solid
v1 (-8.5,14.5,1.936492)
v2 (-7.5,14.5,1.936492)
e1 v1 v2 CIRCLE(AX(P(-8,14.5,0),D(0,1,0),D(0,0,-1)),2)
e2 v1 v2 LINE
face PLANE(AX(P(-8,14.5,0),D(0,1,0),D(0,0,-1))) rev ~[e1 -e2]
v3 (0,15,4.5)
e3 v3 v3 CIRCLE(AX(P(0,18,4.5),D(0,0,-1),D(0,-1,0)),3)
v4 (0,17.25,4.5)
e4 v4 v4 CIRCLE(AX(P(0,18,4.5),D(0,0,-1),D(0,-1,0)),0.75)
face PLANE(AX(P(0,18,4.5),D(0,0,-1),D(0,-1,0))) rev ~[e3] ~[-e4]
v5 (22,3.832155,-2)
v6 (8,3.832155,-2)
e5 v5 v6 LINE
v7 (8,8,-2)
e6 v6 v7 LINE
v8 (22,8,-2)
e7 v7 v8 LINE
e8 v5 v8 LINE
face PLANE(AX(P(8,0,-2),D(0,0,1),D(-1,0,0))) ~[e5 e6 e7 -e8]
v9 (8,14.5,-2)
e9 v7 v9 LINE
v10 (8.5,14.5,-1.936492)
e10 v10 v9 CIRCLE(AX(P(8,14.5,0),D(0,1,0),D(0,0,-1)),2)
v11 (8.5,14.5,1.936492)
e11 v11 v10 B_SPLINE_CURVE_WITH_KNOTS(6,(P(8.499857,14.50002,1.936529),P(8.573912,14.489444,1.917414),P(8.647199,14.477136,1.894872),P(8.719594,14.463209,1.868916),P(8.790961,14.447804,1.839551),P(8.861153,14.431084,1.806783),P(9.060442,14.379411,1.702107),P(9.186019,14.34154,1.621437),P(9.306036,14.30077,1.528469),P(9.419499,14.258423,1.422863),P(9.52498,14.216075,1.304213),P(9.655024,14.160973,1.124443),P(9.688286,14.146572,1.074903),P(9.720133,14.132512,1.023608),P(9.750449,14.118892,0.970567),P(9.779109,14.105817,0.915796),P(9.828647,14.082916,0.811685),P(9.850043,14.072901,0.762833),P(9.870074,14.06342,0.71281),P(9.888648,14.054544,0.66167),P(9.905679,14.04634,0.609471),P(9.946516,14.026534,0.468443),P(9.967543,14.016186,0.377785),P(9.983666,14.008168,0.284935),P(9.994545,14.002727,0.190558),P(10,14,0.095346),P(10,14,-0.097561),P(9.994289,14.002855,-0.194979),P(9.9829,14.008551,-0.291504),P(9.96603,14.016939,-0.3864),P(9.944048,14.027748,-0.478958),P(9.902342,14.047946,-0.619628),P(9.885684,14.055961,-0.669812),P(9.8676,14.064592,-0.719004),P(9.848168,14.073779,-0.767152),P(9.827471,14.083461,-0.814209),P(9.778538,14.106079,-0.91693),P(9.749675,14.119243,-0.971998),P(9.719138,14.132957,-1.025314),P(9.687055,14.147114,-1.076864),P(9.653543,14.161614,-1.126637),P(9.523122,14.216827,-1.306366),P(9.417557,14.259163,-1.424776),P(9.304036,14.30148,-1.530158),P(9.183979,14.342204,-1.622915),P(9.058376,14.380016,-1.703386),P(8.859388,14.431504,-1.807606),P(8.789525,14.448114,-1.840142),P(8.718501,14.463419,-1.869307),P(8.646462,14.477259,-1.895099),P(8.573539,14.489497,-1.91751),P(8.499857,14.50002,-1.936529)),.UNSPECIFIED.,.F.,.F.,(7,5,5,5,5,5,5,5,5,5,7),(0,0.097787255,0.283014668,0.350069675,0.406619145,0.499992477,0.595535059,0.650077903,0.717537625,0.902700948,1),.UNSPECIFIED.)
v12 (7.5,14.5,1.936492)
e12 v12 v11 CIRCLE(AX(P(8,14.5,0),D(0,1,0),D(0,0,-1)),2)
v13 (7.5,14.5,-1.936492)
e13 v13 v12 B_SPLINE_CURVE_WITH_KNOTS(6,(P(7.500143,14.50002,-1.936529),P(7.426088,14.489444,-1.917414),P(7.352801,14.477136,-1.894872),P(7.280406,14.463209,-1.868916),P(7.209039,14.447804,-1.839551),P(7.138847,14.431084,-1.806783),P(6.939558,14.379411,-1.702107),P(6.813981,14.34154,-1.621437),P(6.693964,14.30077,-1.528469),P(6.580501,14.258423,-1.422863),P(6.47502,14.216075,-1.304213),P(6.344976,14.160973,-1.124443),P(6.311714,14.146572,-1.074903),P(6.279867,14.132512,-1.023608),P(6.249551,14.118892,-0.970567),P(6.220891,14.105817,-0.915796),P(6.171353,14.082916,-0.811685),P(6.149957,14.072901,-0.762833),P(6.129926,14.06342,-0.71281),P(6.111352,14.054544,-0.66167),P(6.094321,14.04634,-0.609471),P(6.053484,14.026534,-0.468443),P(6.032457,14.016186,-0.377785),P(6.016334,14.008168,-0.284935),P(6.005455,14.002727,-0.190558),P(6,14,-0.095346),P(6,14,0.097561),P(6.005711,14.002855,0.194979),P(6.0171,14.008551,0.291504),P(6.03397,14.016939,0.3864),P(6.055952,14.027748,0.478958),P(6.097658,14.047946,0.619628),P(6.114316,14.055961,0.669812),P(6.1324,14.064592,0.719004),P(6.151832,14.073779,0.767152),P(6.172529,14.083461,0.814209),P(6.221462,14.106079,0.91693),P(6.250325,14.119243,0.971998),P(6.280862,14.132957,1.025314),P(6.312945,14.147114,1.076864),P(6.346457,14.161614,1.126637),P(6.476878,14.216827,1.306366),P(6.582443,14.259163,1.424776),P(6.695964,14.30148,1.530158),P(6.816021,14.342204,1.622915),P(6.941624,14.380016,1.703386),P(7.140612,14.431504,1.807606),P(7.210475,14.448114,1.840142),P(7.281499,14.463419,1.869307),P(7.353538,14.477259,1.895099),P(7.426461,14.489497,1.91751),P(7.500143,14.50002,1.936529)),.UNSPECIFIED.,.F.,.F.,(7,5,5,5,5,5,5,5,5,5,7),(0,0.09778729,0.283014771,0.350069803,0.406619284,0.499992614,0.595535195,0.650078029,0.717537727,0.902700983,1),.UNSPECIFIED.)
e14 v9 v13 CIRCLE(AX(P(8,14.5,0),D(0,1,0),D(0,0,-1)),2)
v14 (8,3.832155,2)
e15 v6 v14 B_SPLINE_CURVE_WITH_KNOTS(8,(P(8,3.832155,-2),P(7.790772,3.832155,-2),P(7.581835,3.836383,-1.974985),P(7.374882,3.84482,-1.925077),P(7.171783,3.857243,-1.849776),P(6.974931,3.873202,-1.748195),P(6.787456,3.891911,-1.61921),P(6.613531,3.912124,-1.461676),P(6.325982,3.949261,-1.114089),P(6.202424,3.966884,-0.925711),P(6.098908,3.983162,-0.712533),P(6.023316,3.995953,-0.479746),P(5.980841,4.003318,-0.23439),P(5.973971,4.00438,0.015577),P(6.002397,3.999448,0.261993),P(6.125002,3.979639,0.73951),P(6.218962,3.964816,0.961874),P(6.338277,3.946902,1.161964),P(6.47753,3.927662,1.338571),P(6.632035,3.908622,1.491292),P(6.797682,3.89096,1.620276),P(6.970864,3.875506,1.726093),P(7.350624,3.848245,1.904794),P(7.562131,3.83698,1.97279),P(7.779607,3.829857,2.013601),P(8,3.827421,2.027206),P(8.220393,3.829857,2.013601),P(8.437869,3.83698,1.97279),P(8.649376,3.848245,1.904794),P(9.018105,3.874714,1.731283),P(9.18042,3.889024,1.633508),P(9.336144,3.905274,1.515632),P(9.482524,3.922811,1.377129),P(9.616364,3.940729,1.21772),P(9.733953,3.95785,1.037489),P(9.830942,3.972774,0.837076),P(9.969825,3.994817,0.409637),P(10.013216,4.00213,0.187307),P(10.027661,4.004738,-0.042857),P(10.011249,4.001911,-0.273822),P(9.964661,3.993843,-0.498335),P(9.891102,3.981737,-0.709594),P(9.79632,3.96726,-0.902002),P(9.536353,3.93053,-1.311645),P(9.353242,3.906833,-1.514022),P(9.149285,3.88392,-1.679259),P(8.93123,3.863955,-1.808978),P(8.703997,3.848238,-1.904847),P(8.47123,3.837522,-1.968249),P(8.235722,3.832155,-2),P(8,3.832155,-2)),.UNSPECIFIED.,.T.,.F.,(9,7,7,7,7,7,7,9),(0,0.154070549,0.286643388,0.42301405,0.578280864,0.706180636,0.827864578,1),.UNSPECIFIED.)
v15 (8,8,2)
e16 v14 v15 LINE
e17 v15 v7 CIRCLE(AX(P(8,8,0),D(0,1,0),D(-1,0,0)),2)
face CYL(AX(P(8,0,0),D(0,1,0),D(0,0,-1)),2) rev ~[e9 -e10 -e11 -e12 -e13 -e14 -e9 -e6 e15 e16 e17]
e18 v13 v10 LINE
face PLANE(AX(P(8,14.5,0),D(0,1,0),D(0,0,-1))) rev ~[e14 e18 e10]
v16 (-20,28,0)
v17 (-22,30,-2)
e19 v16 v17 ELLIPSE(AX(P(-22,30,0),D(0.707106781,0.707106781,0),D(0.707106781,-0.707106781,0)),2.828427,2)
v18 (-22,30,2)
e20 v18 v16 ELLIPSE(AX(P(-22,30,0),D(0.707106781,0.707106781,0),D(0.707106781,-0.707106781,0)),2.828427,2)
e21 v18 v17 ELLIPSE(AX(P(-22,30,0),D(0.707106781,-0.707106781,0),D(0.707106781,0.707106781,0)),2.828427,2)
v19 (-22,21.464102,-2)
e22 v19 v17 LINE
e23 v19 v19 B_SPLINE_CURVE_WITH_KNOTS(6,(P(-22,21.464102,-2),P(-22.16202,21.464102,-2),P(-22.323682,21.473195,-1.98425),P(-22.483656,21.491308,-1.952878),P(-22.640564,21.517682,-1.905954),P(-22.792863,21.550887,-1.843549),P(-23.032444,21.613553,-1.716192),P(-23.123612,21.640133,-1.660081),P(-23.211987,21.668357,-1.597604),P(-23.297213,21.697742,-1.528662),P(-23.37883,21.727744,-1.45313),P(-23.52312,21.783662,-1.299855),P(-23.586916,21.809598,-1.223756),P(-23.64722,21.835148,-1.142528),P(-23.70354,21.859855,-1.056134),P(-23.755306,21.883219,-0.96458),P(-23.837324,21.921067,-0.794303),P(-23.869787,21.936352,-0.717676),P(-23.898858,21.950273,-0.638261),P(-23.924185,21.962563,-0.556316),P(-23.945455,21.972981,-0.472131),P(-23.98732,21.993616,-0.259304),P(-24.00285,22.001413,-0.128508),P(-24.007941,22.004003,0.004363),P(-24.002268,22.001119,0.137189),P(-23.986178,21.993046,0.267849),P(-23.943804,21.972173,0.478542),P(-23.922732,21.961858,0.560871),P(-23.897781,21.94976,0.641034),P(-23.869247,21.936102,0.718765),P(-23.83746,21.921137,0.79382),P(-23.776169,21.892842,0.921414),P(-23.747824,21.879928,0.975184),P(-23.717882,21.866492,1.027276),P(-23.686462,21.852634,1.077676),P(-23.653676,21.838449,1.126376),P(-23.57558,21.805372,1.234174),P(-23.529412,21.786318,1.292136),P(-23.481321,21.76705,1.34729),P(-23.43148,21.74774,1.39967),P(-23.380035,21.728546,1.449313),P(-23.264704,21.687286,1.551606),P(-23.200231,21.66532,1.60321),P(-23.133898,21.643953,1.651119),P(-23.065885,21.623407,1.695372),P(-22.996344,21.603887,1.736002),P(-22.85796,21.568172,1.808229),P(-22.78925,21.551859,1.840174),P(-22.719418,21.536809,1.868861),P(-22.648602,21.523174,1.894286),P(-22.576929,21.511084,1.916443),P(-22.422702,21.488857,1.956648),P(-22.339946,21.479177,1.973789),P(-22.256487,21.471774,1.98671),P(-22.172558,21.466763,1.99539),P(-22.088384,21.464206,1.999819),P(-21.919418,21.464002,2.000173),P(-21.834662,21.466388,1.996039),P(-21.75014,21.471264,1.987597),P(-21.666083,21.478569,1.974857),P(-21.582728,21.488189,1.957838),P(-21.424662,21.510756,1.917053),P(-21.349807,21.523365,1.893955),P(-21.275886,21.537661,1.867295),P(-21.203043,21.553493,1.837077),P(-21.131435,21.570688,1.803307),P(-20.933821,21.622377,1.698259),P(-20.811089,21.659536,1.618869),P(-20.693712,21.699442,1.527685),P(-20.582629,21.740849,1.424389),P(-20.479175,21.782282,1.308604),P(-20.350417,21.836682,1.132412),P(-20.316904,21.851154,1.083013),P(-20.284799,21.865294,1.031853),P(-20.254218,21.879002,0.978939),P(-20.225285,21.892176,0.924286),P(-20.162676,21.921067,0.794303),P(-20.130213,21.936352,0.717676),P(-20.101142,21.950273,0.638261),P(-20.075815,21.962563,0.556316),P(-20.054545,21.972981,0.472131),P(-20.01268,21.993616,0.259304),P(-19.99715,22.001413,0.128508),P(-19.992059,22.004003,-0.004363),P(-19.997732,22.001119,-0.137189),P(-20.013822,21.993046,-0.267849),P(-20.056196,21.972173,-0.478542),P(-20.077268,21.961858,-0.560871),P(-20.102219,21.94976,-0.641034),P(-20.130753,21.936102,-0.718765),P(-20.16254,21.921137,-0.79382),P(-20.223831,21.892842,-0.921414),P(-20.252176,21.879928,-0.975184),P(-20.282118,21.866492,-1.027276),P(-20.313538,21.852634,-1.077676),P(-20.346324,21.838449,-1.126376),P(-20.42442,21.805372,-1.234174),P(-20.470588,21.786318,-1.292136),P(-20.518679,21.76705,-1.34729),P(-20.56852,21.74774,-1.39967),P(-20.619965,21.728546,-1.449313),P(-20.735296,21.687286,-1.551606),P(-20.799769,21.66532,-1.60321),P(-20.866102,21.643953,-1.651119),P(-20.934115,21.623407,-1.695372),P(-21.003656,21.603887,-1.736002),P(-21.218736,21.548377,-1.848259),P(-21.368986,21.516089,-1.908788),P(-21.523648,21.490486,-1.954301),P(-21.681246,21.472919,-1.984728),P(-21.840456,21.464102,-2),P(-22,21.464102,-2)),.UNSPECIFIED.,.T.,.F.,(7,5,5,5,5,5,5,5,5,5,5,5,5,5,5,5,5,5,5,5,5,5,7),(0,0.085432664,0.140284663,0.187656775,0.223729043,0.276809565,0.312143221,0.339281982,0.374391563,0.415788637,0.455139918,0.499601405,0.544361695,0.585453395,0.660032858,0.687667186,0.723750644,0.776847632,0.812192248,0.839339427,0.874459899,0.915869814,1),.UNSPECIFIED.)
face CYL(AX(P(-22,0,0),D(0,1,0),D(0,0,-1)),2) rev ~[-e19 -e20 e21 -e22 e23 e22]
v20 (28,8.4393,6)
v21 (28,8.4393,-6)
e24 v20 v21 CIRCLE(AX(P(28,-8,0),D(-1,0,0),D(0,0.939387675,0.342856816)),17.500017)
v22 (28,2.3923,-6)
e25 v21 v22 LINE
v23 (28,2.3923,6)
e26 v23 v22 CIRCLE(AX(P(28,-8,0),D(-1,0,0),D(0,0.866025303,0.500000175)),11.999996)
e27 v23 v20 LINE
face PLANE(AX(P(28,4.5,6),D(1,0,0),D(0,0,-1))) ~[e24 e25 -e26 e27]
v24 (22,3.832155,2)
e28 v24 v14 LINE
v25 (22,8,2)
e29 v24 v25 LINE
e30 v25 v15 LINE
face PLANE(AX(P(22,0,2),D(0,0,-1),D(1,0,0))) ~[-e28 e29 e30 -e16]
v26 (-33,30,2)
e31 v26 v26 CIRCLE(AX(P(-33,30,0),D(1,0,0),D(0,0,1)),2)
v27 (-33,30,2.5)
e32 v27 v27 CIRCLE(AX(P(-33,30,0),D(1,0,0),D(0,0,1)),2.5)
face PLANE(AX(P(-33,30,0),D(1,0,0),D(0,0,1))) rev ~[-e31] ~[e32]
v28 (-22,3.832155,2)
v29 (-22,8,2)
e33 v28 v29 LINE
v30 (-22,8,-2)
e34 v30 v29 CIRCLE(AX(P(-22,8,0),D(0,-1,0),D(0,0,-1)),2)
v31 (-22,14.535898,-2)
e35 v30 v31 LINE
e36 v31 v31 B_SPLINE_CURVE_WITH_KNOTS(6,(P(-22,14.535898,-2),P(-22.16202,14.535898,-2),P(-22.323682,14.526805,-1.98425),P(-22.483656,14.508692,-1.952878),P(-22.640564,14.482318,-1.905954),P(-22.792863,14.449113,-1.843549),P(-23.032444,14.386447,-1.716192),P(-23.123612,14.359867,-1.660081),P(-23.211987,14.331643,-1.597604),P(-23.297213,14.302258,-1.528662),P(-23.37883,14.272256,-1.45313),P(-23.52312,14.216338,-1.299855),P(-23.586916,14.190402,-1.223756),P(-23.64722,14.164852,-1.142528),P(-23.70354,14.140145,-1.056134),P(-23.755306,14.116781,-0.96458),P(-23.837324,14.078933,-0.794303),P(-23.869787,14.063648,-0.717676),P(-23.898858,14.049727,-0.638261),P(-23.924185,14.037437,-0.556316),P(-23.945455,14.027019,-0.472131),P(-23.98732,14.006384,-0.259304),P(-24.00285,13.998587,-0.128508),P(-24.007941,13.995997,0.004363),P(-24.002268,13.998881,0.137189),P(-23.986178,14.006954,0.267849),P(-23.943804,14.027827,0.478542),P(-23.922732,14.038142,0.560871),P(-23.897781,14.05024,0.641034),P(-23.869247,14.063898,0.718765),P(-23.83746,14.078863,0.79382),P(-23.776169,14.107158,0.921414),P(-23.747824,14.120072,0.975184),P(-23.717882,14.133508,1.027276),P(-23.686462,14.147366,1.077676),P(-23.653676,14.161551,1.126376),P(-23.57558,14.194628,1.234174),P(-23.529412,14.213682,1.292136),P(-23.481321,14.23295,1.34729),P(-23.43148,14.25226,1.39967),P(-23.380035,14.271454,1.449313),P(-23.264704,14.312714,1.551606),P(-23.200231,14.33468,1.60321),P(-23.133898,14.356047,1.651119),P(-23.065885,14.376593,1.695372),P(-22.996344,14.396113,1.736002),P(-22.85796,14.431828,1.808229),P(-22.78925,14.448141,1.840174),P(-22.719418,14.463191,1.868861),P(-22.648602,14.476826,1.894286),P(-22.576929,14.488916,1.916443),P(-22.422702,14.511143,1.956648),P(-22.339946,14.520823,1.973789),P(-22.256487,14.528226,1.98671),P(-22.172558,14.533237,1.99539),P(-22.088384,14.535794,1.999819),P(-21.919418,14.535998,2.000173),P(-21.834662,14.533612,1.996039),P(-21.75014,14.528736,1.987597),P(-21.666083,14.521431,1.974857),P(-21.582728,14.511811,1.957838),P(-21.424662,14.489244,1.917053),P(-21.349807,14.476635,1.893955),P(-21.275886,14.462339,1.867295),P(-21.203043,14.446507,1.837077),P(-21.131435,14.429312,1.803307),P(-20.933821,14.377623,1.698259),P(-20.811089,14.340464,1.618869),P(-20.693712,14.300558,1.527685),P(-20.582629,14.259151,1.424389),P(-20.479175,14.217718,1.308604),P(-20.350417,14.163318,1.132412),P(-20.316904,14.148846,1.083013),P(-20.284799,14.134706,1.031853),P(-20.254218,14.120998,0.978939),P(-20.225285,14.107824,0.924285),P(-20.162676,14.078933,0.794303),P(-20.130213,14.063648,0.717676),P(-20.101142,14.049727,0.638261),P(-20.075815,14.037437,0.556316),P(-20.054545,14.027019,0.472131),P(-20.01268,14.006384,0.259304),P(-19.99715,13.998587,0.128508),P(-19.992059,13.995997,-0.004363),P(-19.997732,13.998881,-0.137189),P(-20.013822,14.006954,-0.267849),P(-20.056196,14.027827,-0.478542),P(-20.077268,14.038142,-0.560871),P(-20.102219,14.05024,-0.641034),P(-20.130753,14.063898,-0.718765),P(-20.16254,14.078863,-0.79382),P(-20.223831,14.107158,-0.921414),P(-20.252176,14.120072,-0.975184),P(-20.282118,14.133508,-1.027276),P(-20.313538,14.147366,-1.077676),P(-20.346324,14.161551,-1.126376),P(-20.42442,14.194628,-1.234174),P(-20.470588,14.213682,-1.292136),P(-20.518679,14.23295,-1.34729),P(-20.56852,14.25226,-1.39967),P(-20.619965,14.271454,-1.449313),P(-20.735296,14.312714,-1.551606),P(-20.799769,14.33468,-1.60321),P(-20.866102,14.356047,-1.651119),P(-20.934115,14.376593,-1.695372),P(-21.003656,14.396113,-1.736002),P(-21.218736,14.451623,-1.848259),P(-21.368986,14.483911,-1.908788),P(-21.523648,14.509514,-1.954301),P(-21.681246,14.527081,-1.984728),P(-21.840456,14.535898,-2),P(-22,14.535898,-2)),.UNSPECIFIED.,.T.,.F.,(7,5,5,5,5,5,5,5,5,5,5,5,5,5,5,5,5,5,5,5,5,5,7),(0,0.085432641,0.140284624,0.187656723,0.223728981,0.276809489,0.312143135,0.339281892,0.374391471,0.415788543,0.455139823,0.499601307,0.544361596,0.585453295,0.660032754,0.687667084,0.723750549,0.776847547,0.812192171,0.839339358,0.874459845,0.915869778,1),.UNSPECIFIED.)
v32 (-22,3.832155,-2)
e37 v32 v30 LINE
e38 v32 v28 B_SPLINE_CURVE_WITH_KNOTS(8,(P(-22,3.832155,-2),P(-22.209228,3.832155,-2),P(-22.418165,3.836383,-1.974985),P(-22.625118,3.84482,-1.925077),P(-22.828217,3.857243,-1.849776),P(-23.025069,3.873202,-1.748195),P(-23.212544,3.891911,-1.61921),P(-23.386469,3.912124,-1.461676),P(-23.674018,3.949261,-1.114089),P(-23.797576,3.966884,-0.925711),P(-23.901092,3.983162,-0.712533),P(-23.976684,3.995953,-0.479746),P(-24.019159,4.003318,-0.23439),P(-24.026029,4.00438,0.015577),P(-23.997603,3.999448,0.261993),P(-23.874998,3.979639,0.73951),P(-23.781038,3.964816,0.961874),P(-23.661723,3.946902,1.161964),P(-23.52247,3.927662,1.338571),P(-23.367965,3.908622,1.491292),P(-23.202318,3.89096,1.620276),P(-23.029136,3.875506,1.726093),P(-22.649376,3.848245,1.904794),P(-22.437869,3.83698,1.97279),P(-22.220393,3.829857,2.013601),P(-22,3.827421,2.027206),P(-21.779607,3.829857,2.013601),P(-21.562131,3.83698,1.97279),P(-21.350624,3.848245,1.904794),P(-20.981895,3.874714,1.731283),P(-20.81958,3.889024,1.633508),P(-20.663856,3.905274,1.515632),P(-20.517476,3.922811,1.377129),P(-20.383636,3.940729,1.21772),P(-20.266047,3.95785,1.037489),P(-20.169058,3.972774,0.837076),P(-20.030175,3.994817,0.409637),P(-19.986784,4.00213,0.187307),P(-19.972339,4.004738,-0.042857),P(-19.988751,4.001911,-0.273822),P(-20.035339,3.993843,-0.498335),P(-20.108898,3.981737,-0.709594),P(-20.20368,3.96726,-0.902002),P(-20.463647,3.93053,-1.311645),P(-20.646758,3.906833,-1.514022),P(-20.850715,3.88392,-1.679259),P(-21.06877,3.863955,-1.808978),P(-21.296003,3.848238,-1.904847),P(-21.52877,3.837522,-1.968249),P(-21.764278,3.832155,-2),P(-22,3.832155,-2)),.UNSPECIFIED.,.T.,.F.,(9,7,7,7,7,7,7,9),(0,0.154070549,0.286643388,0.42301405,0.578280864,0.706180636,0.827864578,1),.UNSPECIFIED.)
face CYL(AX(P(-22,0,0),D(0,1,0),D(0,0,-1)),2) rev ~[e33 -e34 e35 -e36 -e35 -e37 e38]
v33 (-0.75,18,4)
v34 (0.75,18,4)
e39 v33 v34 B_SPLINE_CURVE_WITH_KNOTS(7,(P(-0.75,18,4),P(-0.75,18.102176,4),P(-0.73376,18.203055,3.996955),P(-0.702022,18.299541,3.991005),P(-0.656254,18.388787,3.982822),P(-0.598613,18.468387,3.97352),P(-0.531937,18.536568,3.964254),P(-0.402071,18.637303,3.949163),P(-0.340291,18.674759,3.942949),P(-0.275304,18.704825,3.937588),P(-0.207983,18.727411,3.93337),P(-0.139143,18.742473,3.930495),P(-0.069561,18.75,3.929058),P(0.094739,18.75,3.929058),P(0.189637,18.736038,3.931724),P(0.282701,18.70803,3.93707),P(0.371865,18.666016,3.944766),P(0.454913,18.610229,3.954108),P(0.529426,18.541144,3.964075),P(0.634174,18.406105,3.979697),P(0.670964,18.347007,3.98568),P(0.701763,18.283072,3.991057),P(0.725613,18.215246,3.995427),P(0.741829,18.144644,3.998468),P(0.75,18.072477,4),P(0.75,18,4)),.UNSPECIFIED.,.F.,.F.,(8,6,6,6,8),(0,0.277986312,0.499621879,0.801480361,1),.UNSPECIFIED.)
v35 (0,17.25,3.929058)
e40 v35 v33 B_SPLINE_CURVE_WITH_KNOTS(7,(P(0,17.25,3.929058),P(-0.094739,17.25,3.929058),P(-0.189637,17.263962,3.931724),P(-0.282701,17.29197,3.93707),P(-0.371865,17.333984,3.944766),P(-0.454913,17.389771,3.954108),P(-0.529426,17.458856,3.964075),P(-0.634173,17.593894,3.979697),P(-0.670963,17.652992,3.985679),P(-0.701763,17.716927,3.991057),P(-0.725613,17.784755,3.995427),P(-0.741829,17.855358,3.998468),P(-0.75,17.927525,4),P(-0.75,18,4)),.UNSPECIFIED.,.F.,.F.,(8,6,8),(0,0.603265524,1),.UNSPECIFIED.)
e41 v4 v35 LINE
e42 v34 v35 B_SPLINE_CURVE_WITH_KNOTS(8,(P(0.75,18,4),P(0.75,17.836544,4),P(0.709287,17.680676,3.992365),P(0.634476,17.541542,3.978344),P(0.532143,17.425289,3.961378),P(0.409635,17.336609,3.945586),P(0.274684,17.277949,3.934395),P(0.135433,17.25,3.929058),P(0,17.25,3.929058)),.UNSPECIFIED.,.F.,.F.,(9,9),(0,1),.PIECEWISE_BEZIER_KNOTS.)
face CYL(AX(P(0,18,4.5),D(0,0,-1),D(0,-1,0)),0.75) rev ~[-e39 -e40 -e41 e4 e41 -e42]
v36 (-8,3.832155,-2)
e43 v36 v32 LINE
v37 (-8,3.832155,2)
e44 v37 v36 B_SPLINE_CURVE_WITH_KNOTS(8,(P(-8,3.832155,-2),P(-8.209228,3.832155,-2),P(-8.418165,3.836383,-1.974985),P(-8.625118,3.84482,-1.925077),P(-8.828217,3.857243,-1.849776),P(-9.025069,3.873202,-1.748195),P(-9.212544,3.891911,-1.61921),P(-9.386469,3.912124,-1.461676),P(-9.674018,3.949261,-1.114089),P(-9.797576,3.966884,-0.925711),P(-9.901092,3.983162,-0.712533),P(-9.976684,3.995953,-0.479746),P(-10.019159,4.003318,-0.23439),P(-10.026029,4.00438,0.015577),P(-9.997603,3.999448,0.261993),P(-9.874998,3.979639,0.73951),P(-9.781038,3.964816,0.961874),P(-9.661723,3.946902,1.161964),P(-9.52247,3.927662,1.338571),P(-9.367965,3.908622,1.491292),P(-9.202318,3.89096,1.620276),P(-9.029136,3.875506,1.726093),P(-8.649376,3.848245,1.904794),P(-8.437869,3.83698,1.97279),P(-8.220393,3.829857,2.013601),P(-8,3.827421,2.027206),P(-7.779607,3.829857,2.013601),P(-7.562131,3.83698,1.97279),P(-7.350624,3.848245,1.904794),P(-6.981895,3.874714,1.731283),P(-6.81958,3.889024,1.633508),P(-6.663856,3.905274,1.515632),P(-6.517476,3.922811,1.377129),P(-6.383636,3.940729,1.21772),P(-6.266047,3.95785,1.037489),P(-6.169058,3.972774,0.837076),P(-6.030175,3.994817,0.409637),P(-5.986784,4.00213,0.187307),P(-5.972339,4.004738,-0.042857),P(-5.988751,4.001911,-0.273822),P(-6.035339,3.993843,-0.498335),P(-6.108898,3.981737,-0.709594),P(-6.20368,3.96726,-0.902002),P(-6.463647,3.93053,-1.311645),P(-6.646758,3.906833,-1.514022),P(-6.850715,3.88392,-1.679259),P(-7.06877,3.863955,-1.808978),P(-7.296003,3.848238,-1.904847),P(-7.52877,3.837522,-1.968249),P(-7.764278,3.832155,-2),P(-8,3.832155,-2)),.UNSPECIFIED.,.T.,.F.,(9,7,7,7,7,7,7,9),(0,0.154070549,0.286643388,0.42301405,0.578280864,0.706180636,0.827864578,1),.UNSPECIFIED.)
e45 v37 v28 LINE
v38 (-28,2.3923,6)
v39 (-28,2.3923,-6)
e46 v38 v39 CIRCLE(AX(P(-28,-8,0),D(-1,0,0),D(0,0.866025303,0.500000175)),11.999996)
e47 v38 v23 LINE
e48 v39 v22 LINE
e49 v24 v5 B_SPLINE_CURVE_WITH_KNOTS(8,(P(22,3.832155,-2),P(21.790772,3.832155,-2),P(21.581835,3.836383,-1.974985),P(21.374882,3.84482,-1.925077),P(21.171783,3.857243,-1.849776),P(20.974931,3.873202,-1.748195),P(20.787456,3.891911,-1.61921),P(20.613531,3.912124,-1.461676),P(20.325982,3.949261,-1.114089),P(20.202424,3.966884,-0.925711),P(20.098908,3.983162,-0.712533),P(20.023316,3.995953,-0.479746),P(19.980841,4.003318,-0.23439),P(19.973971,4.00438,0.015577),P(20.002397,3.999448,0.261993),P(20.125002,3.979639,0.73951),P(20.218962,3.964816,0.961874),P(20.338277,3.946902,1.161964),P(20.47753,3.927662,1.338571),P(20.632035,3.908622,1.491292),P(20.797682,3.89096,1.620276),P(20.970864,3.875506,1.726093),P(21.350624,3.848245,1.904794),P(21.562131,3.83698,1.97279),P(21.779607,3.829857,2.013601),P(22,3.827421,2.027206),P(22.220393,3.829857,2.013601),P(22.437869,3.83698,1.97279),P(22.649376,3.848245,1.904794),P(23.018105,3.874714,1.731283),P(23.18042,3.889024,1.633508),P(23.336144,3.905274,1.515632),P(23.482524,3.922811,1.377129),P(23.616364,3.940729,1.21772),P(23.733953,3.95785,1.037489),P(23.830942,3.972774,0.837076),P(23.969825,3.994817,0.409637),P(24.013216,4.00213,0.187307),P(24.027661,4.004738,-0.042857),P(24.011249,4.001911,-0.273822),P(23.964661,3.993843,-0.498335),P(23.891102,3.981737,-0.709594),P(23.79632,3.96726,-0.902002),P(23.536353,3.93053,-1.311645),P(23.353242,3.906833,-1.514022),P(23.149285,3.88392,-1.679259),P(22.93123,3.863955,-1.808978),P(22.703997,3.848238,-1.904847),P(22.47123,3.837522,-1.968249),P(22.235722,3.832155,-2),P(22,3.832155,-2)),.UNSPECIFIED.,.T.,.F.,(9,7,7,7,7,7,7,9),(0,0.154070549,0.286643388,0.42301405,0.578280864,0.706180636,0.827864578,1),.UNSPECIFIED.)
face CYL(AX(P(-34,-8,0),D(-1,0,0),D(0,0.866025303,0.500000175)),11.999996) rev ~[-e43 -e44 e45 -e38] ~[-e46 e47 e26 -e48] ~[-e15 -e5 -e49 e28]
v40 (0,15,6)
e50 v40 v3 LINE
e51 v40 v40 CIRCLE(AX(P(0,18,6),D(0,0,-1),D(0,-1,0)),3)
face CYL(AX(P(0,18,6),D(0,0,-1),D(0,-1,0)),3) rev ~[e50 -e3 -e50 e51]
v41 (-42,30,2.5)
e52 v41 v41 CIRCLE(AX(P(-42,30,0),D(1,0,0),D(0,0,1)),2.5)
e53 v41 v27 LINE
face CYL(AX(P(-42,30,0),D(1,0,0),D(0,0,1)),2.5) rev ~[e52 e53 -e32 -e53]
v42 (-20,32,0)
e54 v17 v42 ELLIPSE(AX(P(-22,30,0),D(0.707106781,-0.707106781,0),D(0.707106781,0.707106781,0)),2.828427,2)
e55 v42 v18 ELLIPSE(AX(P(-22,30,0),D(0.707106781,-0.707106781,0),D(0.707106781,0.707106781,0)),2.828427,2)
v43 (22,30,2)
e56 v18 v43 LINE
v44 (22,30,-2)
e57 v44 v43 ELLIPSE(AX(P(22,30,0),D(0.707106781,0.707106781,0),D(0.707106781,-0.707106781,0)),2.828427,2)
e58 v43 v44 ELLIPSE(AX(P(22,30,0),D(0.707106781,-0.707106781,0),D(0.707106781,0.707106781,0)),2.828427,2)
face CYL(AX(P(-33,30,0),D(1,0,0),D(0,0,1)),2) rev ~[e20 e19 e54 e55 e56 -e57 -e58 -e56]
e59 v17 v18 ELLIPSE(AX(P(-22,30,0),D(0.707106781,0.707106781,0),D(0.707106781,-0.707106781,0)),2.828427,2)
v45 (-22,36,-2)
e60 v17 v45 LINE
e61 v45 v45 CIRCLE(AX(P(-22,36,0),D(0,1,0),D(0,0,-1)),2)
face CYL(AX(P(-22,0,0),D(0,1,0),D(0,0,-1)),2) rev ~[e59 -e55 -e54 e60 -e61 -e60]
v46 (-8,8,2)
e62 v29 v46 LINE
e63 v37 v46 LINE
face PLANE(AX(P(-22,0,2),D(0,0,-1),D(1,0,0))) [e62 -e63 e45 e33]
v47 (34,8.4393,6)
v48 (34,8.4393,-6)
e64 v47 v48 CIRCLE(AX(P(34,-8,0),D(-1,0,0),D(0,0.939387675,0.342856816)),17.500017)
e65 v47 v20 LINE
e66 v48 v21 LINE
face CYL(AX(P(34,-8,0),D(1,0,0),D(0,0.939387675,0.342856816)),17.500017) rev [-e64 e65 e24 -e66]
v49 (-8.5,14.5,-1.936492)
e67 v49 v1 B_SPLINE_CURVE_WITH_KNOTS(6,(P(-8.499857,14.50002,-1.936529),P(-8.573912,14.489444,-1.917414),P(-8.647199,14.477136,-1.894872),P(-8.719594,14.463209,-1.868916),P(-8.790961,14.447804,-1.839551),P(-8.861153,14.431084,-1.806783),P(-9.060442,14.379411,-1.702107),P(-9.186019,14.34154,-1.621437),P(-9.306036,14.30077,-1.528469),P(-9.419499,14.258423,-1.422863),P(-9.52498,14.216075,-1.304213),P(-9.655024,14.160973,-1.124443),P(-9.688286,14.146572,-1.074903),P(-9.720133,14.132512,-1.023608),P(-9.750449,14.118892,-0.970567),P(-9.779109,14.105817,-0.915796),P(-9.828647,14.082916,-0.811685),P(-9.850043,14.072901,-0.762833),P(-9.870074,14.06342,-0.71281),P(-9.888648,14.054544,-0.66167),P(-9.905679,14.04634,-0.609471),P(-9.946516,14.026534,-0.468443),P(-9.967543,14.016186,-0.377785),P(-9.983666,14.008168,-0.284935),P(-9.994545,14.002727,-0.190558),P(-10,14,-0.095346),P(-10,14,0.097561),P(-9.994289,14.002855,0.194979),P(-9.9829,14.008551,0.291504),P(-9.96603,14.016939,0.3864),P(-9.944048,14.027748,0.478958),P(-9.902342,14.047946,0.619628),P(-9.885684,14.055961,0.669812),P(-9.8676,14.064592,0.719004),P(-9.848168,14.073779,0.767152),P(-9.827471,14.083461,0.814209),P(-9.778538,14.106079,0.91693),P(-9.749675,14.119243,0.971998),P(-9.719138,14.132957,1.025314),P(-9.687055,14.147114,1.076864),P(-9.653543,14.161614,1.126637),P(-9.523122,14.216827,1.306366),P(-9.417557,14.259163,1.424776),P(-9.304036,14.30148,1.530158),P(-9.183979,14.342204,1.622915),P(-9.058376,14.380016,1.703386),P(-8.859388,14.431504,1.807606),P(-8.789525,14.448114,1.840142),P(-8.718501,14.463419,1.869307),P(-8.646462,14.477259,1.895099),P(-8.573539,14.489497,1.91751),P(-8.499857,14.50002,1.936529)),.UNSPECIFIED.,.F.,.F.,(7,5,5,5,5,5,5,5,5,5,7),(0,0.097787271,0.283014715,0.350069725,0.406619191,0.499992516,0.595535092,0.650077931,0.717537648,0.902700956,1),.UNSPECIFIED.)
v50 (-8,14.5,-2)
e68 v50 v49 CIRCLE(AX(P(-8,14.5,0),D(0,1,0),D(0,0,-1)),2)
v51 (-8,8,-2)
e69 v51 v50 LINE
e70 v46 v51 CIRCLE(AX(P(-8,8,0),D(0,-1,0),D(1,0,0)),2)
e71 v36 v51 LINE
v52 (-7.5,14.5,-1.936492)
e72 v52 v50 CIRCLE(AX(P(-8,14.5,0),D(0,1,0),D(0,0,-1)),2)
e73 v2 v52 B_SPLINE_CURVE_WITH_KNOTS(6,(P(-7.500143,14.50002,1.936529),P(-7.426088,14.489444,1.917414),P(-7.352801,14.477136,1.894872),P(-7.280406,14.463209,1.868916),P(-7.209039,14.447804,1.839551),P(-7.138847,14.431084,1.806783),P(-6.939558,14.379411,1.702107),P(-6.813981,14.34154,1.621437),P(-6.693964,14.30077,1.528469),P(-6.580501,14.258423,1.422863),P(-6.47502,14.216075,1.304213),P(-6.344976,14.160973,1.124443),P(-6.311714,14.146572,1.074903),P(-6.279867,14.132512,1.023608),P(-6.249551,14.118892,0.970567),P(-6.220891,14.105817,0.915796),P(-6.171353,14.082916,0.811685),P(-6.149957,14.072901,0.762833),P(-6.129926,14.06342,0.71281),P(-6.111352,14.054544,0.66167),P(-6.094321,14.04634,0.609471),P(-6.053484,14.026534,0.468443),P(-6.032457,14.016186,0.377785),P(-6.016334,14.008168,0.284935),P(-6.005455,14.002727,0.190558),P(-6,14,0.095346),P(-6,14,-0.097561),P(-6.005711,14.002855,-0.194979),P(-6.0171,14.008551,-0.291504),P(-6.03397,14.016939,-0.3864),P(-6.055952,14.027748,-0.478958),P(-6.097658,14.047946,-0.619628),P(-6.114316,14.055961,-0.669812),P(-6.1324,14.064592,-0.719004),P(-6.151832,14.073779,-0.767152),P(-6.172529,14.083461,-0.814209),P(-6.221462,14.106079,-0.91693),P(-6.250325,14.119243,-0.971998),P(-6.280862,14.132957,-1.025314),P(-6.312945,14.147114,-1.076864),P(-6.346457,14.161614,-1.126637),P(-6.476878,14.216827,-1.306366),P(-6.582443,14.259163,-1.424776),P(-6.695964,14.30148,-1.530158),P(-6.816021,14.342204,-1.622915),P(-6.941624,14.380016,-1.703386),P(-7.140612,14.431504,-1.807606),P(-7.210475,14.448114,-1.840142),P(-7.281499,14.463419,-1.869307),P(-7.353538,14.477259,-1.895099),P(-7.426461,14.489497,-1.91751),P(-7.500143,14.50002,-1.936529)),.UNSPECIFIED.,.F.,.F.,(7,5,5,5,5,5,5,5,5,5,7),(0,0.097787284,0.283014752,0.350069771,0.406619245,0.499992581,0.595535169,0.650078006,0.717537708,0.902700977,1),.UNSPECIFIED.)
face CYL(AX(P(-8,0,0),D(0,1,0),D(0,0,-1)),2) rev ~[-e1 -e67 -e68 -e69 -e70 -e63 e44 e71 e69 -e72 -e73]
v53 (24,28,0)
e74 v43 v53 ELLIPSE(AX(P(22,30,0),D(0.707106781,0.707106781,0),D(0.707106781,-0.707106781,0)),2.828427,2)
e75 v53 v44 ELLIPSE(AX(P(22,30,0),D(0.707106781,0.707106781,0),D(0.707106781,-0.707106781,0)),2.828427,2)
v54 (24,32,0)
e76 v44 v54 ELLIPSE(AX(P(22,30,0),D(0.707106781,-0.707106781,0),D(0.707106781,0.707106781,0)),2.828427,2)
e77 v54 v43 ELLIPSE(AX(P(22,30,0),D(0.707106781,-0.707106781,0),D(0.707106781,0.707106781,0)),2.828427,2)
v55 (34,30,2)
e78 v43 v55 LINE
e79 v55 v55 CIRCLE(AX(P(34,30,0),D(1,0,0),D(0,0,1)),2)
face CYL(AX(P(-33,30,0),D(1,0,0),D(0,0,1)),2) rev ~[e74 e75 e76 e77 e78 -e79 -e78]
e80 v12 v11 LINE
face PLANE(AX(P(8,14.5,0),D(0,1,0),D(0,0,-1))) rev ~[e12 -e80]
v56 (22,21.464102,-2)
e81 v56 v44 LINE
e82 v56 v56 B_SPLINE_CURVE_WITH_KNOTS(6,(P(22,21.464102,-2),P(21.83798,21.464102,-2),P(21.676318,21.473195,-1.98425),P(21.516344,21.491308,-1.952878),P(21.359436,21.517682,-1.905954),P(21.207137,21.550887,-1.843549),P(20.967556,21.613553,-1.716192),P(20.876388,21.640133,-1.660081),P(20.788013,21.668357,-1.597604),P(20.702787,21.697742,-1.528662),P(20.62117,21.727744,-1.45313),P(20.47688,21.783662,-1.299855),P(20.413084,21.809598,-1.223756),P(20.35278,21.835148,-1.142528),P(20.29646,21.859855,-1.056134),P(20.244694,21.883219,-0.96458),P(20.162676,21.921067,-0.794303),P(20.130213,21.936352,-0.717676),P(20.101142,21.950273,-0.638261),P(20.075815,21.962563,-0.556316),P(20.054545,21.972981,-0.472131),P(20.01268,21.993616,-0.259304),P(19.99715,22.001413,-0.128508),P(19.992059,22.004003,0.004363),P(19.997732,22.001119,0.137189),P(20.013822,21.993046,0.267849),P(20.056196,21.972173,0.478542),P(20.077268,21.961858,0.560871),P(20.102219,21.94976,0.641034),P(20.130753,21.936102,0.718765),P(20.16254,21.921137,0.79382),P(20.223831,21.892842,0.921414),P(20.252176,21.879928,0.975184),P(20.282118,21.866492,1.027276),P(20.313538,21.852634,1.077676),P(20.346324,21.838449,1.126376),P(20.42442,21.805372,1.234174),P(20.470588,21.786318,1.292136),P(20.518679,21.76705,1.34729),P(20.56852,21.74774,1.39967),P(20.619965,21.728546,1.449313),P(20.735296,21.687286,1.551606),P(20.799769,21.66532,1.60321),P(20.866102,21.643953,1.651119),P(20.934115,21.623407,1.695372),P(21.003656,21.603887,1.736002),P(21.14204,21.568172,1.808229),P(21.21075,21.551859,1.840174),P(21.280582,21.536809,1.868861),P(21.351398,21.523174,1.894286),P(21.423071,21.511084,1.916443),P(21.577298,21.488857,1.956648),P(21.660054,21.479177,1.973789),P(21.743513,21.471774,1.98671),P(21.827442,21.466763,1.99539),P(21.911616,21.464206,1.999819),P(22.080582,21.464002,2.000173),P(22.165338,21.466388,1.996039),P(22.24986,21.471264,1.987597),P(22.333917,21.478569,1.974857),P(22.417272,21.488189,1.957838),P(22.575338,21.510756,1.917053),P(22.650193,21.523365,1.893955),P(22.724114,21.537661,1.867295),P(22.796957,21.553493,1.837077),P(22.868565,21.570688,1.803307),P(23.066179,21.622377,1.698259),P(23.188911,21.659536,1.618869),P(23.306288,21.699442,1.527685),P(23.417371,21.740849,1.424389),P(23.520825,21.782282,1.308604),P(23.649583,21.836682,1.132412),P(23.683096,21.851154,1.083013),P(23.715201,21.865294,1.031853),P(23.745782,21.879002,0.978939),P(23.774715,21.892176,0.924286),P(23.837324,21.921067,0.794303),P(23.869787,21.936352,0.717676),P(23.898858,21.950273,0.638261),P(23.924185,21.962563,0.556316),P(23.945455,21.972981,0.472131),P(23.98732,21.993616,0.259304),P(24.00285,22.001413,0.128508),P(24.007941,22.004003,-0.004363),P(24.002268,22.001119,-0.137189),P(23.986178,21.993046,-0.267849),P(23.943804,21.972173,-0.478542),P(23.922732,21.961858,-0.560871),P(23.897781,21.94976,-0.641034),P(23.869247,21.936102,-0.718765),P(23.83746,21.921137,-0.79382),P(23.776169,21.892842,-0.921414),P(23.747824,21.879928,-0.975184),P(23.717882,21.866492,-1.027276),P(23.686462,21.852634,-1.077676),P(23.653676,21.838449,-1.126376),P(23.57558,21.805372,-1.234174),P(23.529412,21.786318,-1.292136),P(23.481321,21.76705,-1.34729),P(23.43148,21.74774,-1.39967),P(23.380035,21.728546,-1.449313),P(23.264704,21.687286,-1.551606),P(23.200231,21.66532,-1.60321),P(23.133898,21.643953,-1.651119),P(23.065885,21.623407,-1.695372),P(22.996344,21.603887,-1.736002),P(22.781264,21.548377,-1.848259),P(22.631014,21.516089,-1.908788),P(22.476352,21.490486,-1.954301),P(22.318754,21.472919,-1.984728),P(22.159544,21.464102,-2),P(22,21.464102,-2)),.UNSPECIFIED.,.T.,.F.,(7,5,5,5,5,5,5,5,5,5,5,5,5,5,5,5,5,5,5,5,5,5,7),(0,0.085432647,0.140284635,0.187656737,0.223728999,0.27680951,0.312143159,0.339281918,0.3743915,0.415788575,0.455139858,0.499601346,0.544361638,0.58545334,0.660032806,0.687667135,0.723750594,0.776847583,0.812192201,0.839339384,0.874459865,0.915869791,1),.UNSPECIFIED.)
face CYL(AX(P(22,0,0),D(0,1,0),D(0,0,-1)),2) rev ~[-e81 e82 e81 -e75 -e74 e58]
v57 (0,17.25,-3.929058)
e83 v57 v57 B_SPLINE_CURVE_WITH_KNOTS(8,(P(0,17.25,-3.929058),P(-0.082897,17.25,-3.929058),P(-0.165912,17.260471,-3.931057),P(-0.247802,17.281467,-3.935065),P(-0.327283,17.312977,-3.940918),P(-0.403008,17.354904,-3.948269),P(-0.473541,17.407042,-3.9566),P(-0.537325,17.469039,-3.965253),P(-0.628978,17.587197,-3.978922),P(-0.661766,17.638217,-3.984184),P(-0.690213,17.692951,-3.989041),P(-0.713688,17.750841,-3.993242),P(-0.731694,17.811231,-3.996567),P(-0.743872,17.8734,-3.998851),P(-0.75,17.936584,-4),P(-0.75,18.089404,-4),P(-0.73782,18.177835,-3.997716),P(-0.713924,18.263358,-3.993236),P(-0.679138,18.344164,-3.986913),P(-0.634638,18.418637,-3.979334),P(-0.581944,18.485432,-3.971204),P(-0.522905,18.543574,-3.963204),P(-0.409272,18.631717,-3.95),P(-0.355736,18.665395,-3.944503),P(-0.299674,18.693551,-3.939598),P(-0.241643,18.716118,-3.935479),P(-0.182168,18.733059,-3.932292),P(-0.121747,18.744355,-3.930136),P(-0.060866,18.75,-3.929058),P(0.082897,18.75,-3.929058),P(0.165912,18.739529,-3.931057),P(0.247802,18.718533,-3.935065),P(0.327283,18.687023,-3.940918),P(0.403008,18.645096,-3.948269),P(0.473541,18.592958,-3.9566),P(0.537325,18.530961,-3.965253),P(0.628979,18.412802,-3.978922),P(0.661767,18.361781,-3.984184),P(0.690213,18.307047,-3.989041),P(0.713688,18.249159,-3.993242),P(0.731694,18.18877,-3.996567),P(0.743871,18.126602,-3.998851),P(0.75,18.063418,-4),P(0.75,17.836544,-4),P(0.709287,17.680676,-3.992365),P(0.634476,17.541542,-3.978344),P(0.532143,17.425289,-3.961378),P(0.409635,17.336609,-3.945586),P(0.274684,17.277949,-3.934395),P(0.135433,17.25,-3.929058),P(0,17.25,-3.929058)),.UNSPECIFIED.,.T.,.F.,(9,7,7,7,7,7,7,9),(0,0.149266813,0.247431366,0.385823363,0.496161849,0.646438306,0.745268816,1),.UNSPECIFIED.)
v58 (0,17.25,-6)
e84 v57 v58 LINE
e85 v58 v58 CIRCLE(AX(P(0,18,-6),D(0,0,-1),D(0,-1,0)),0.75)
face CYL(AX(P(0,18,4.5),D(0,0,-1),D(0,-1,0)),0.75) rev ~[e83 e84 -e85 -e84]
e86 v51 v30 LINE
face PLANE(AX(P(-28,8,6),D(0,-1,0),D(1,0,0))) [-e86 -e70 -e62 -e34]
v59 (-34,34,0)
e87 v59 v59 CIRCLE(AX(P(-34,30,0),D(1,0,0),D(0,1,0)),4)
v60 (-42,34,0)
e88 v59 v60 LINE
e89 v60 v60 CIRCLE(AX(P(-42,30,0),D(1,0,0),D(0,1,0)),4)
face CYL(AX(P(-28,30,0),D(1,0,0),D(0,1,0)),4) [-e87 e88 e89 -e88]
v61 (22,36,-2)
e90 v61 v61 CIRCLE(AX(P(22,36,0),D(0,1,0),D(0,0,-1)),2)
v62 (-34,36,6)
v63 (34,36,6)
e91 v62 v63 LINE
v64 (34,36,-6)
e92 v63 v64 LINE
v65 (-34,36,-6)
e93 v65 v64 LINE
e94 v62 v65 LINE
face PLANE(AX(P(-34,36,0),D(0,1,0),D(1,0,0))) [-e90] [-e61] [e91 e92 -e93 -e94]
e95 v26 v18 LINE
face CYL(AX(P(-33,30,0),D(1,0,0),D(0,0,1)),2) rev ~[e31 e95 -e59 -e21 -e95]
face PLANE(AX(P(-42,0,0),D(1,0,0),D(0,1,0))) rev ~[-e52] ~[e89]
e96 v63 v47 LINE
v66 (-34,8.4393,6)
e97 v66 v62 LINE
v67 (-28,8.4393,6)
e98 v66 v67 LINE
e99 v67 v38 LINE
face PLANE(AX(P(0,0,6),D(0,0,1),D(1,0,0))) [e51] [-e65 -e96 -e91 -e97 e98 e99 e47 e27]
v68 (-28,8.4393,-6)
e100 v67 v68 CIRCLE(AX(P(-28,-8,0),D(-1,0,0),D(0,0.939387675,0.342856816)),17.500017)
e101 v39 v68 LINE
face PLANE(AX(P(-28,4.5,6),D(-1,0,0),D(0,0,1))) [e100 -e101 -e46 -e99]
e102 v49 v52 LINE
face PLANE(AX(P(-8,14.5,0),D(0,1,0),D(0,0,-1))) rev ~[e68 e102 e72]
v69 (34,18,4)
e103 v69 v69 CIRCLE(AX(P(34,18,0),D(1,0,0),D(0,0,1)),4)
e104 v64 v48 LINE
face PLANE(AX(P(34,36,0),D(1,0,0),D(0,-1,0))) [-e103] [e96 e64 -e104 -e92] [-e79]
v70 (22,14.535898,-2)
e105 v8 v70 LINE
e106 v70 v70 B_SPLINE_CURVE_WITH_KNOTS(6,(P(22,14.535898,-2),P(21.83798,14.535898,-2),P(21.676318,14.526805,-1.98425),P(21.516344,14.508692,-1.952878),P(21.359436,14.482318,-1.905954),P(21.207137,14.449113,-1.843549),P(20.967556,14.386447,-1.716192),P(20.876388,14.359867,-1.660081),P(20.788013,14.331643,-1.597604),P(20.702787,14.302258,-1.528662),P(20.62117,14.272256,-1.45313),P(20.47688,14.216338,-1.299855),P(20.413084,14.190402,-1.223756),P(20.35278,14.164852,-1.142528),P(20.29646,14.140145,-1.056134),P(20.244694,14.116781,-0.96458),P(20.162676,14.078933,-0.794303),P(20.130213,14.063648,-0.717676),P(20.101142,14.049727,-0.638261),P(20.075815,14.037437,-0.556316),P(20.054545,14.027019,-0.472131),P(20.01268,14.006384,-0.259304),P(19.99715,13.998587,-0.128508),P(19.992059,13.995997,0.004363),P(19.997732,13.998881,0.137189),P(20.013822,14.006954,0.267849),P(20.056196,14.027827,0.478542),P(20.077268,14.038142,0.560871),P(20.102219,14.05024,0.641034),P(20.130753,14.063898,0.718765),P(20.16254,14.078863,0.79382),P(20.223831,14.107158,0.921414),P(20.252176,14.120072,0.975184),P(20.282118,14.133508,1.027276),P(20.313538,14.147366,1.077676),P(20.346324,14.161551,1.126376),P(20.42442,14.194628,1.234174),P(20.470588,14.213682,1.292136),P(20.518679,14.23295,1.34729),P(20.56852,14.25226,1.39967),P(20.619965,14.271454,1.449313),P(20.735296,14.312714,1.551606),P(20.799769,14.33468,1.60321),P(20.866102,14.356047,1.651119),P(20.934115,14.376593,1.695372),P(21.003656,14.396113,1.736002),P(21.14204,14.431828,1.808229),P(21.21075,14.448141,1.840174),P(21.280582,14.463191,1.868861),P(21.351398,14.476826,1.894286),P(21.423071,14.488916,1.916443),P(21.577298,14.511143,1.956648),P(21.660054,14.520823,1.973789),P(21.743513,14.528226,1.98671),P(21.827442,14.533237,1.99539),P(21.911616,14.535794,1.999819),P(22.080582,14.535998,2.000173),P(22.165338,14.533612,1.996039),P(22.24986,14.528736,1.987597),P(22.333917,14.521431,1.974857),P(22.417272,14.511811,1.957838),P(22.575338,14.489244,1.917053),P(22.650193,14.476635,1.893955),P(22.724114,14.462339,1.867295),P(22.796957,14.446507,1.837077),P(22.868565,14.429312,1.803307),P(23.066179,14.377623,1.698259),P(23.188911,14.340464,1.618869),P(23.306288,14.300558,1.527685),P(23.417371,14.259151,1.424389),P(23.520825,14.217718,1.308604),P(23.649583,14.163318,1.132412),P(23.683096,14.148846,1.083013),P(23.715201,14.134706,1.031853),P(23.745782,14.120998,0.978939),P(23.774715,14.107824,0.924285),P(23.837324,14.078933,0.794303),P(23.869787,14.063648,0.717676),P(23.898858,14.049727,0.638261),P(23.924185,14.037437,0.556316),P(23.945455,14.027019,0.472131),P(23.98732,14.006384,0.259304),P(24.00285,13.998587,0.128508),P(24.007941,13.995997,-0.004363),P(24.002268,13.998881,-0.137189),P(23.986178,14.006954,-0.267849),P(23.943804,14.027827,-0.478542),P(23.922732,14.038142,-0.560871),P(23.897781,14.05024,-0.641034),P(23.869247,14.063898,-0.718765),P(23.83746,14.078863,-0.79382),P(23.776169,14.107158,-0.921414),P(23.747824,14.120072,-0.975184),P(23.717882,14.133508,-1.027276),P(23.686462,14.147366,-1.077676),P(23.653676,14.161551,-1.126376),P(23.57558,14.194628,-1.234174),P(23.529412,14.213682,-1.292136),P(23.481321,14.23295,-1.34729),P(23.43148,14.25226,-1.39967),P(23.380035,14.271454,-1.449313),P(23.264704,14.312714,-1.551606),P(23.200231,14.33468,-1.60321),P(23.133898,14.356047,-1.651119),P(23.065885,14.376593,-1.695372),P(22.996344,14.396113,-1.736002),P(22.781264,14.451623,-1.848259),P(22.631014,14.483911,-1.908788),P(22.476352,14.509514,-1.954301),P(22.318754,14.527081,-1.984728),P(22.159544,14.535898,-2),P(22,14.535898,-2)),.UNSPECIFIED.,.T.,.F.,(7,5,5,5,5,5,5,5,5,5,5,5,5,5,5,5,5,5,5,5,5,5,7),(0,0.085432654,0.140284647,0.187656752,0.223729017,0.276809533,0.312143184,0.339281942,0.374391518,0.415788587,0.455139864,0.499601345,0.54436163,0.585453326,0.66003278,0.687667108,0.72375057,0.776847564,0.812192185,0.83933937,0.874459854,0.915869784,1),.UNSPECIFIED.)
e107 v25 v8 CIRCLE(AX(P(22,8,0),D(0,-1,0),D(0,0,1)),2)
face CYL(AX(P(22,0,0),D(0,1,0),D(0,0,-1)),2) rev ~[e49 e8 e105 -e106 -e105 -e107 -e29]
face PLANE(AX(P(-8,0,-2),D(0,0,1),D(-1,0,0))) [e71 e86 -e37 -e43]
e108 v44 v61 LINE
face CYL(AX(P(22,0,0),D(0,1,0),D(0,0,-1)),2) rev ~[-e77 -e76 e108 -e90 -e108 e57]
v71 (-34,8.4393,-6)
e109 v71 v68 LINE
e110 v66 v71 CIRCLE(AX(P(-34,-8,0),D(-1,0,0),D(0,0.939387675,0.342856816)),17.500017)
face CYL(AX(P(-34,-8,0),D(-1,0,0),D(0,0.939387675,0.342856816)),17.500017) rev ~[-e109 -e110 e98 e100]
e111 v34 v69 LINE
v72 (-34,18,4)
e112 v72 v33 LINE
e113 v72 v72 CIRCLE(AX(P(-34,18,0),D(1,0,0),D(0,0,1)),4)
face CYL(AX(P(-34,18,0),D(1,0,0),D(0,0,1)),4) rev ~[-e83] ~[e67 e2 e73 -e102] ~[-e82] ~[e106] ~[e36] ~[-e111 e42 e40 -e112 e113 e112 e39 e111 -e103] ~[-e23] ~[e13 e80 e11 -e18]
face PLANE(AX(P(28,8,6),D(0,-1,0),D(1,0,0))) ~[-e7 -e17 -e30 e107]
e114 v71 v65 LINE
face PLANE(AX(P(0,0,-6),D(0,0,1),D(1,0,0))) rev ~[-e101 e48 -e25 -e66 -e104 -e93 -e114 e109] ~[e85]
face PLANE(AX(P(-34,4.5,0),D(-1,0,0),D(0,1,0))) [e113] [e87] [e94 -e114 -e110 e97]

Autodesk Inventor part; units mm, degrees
ref_plane "XZ Plane" through (0, 0, 0) normal (0, 1, 0) x (-1, 0, 0)
ref_plane "XY Plane" through (0, 0, 0) normal (0, 0, 1) x (1, 0, 0)
sketch "Sketch1" plane through (0, 0, 0) normal (0, 0, 1) x (1, 0, 0)
  line L0 (0, 0) -> (-28, 0)
  line L1 (-28, 0) -> (-28, 4.5)
  line L2 (-28, 4.5) -> (-34, 4.5)
  line L3 (-34, 4.5) -> (-34, 36)
  line L4 (-34, 36) -> (34, 36)
  line L5 (34, 36) -> (34, 4.5)
  line L6 (34, 4.5) -> (28, 4.5)
  line L7 (28, 4.5) -> (28, 0)
  line L8 (28, 0) -> (0, 0)
  line L9 (0, 0) -> (0, 8.4212) construction
  dimension "d0" = 28
  dimension "d1" = 28
  dimension "d2" = 68
  dimension "d3" = 36
  dimension "d4" = 4.5
extrude "Extrusion1" add sketch "Sketch1" along normal mid plane 12
ref_plane "Work Plane3" through (-28, 0, 0) normal (1, 0, 0) x (0, 1, 0)
sketch "Sketch12" plane through (-28, 0, 0) normal (1, 0, 0) x (0, 1, 0)
  circle A0 centre (30, 0) radius 4
  line L0 (36, -6) -> (36, 6) projected
  point P0 (0, 0)
  point P1 (36, 0)
  dimension "d61" = 8
  dimension "d62" = 6
extrude "Extrusion5" add sketch "Sketch12" against normal blind 14
sketch "Sketch2" plane through (0, 0, 6) normal (0, 0, 1) x (1, 0, 0)
  line L0 (34, 36) -> (-34, 36) projected
  line L1 (-28, 0) -> (28, 0) projected
  point P0 (0, 0)
  point P1 (0, 18)
  point P2 (0, 36)
  point P3 (0, 0)
  dimension "d7" = 18
hole "Hole1" at (0, 18, 6) direction (0, 0, -1) diameter 1.5 depth 12 counterbore diameter 6 counterbore depth 1.5
sketch "Sketch13" plane through (-42, 30, 0) normal (-1, 0, 0) x (0, 0, 1)
  circle A0 centre (0, 0) radius 4 projected
  point P0 (0, -30)
hole "Hole6" at (-42, 30, 0) direction (1, 0, 0) diameter 4 depth 76 counterbore diameter 5 counterbore depth 9
sketch "Sketch4" plane through (-34, 4.5, 6) normal (-1, 0, 0) x (0, 0, 1)
  circle A0 centre (-6, 25.5) radius 2.067 projected
  point P0 (-6, -4.5)
  point P1 (-6, 13.5)
  dimension "d23" = 12
hole "Hole3" at (-34, 18, 0) direction (1, 0, 0) diameter 8 depth 68
sketch "Sketch5" plane through (-28, 0, 6) normal (0, -1, 0) x (1, 0, 0)
  line L0 (-6, -12) -> (-6, 0) projected
  line L1 (62, -12) -> (62, 0) projected
  point P0 (28, -6)
  point P1 (6, -6)
  point P2 (50, -6)
  point P3 (-6, -6)
  dimension "d31" = 12
  dimension "d32" = 12
hole "Hole4" at (-22, 0, 0) at (22, 0, 0) direction (0, 1, 0) diameter 4 depth 36
sketch "Sketch6" plane through (-28, 0, 6) normal (0, -1, 0) x (1, 0, 0)
  point P0 (28, -6)
  point P1 (20, -6)
  point P2 (36, -6)
  dimension "d40" = 8
  dimension "d41" = 8
hole "Hole5" at (-8, 0, 0) at (8, 0, 0) direction (0, 1, 0) diameter 4 depth 14.5
sketch "Sketch10" plane through (-28, 0, 6) normal (0, -1, 0) x (1, 0, 0)
  circle A0 centre (6, -6) radius 2 projected
  circle A1 centre (20, -6) radius 2 projected
  line L0 (6, -4) -> (20.1253, -4)
  line L1 (20, -8) -> (6, -8)
  point P0 (28, -6)
  point P1 (20, -4)
extrude "Extrusion4" cut sketch "Sketch10" against normal blind 8 contours A0 L0 A1 L1
mirror "Mirror2" about plane through (0, 0, 0) normal (1, 0, 0) of "Extrusion4"
sketch "Sketch7" plane through (-34, 4.5, 6) normal (-1, 0, 0) x (0, 0, 1)
  arc A0 (0, -2.1077) -> (-12, -2.1077) centre (-6, -12.5) ccw
  line L0 (-12, -4.5) -> (0, -4.5) projected
  line L1 (0, 0) -> (0, -4.5) projected
  line L2 (-12, 0) -> (0, 0) projected
  line L3 (-12, -4.5) -> (-12, 0) projected
  circle A1 centre (-6, 13.5) radius 4 projected
  point P0 (-6, -4.5)
  dimension "d49" = 24
  dimension "d50" = 26
extrude "Extrusion2" cut sketch "Sketch7" against normal up to surface (68 mm away) contours L1 L0 L3 A0
sketch "Sketch8" plane through (-34, 4.5, 6) normal (-1, 0, 0) x (0, 0, 1)
  arc A0 (0, 3.9393) -> (-12, 3.9393) centre (-6, -12.5) ccw
  arc A1 (0, -2.1077) -> (-12, -2.1077) centre (-6, -12.5) ccw projected
  line L0 (0, 31.5) -> (0, 0) projected
  line L1 (-12, 0) -> (-12, 31.5) projected
  line L2 (-12, 0) -> (0, 0) projected
  point P0 (-6, -4.5)
  point P1 (-6, 0)
  dimension "d53" = 35
extrude "Extrusion3" cut sketch "Sketch8" against normal up to surface (6 mm away)
mirror "Mirror1" about plane through (0, 0, 0) normal (1, 0, 0) of "Extrusion3"
thread "Thread1" size "M8x1.25" class "6g" standard "ISO Metric profile" full length
equation "\"d41\" = d40"
properties part number "152" material "Gold"
